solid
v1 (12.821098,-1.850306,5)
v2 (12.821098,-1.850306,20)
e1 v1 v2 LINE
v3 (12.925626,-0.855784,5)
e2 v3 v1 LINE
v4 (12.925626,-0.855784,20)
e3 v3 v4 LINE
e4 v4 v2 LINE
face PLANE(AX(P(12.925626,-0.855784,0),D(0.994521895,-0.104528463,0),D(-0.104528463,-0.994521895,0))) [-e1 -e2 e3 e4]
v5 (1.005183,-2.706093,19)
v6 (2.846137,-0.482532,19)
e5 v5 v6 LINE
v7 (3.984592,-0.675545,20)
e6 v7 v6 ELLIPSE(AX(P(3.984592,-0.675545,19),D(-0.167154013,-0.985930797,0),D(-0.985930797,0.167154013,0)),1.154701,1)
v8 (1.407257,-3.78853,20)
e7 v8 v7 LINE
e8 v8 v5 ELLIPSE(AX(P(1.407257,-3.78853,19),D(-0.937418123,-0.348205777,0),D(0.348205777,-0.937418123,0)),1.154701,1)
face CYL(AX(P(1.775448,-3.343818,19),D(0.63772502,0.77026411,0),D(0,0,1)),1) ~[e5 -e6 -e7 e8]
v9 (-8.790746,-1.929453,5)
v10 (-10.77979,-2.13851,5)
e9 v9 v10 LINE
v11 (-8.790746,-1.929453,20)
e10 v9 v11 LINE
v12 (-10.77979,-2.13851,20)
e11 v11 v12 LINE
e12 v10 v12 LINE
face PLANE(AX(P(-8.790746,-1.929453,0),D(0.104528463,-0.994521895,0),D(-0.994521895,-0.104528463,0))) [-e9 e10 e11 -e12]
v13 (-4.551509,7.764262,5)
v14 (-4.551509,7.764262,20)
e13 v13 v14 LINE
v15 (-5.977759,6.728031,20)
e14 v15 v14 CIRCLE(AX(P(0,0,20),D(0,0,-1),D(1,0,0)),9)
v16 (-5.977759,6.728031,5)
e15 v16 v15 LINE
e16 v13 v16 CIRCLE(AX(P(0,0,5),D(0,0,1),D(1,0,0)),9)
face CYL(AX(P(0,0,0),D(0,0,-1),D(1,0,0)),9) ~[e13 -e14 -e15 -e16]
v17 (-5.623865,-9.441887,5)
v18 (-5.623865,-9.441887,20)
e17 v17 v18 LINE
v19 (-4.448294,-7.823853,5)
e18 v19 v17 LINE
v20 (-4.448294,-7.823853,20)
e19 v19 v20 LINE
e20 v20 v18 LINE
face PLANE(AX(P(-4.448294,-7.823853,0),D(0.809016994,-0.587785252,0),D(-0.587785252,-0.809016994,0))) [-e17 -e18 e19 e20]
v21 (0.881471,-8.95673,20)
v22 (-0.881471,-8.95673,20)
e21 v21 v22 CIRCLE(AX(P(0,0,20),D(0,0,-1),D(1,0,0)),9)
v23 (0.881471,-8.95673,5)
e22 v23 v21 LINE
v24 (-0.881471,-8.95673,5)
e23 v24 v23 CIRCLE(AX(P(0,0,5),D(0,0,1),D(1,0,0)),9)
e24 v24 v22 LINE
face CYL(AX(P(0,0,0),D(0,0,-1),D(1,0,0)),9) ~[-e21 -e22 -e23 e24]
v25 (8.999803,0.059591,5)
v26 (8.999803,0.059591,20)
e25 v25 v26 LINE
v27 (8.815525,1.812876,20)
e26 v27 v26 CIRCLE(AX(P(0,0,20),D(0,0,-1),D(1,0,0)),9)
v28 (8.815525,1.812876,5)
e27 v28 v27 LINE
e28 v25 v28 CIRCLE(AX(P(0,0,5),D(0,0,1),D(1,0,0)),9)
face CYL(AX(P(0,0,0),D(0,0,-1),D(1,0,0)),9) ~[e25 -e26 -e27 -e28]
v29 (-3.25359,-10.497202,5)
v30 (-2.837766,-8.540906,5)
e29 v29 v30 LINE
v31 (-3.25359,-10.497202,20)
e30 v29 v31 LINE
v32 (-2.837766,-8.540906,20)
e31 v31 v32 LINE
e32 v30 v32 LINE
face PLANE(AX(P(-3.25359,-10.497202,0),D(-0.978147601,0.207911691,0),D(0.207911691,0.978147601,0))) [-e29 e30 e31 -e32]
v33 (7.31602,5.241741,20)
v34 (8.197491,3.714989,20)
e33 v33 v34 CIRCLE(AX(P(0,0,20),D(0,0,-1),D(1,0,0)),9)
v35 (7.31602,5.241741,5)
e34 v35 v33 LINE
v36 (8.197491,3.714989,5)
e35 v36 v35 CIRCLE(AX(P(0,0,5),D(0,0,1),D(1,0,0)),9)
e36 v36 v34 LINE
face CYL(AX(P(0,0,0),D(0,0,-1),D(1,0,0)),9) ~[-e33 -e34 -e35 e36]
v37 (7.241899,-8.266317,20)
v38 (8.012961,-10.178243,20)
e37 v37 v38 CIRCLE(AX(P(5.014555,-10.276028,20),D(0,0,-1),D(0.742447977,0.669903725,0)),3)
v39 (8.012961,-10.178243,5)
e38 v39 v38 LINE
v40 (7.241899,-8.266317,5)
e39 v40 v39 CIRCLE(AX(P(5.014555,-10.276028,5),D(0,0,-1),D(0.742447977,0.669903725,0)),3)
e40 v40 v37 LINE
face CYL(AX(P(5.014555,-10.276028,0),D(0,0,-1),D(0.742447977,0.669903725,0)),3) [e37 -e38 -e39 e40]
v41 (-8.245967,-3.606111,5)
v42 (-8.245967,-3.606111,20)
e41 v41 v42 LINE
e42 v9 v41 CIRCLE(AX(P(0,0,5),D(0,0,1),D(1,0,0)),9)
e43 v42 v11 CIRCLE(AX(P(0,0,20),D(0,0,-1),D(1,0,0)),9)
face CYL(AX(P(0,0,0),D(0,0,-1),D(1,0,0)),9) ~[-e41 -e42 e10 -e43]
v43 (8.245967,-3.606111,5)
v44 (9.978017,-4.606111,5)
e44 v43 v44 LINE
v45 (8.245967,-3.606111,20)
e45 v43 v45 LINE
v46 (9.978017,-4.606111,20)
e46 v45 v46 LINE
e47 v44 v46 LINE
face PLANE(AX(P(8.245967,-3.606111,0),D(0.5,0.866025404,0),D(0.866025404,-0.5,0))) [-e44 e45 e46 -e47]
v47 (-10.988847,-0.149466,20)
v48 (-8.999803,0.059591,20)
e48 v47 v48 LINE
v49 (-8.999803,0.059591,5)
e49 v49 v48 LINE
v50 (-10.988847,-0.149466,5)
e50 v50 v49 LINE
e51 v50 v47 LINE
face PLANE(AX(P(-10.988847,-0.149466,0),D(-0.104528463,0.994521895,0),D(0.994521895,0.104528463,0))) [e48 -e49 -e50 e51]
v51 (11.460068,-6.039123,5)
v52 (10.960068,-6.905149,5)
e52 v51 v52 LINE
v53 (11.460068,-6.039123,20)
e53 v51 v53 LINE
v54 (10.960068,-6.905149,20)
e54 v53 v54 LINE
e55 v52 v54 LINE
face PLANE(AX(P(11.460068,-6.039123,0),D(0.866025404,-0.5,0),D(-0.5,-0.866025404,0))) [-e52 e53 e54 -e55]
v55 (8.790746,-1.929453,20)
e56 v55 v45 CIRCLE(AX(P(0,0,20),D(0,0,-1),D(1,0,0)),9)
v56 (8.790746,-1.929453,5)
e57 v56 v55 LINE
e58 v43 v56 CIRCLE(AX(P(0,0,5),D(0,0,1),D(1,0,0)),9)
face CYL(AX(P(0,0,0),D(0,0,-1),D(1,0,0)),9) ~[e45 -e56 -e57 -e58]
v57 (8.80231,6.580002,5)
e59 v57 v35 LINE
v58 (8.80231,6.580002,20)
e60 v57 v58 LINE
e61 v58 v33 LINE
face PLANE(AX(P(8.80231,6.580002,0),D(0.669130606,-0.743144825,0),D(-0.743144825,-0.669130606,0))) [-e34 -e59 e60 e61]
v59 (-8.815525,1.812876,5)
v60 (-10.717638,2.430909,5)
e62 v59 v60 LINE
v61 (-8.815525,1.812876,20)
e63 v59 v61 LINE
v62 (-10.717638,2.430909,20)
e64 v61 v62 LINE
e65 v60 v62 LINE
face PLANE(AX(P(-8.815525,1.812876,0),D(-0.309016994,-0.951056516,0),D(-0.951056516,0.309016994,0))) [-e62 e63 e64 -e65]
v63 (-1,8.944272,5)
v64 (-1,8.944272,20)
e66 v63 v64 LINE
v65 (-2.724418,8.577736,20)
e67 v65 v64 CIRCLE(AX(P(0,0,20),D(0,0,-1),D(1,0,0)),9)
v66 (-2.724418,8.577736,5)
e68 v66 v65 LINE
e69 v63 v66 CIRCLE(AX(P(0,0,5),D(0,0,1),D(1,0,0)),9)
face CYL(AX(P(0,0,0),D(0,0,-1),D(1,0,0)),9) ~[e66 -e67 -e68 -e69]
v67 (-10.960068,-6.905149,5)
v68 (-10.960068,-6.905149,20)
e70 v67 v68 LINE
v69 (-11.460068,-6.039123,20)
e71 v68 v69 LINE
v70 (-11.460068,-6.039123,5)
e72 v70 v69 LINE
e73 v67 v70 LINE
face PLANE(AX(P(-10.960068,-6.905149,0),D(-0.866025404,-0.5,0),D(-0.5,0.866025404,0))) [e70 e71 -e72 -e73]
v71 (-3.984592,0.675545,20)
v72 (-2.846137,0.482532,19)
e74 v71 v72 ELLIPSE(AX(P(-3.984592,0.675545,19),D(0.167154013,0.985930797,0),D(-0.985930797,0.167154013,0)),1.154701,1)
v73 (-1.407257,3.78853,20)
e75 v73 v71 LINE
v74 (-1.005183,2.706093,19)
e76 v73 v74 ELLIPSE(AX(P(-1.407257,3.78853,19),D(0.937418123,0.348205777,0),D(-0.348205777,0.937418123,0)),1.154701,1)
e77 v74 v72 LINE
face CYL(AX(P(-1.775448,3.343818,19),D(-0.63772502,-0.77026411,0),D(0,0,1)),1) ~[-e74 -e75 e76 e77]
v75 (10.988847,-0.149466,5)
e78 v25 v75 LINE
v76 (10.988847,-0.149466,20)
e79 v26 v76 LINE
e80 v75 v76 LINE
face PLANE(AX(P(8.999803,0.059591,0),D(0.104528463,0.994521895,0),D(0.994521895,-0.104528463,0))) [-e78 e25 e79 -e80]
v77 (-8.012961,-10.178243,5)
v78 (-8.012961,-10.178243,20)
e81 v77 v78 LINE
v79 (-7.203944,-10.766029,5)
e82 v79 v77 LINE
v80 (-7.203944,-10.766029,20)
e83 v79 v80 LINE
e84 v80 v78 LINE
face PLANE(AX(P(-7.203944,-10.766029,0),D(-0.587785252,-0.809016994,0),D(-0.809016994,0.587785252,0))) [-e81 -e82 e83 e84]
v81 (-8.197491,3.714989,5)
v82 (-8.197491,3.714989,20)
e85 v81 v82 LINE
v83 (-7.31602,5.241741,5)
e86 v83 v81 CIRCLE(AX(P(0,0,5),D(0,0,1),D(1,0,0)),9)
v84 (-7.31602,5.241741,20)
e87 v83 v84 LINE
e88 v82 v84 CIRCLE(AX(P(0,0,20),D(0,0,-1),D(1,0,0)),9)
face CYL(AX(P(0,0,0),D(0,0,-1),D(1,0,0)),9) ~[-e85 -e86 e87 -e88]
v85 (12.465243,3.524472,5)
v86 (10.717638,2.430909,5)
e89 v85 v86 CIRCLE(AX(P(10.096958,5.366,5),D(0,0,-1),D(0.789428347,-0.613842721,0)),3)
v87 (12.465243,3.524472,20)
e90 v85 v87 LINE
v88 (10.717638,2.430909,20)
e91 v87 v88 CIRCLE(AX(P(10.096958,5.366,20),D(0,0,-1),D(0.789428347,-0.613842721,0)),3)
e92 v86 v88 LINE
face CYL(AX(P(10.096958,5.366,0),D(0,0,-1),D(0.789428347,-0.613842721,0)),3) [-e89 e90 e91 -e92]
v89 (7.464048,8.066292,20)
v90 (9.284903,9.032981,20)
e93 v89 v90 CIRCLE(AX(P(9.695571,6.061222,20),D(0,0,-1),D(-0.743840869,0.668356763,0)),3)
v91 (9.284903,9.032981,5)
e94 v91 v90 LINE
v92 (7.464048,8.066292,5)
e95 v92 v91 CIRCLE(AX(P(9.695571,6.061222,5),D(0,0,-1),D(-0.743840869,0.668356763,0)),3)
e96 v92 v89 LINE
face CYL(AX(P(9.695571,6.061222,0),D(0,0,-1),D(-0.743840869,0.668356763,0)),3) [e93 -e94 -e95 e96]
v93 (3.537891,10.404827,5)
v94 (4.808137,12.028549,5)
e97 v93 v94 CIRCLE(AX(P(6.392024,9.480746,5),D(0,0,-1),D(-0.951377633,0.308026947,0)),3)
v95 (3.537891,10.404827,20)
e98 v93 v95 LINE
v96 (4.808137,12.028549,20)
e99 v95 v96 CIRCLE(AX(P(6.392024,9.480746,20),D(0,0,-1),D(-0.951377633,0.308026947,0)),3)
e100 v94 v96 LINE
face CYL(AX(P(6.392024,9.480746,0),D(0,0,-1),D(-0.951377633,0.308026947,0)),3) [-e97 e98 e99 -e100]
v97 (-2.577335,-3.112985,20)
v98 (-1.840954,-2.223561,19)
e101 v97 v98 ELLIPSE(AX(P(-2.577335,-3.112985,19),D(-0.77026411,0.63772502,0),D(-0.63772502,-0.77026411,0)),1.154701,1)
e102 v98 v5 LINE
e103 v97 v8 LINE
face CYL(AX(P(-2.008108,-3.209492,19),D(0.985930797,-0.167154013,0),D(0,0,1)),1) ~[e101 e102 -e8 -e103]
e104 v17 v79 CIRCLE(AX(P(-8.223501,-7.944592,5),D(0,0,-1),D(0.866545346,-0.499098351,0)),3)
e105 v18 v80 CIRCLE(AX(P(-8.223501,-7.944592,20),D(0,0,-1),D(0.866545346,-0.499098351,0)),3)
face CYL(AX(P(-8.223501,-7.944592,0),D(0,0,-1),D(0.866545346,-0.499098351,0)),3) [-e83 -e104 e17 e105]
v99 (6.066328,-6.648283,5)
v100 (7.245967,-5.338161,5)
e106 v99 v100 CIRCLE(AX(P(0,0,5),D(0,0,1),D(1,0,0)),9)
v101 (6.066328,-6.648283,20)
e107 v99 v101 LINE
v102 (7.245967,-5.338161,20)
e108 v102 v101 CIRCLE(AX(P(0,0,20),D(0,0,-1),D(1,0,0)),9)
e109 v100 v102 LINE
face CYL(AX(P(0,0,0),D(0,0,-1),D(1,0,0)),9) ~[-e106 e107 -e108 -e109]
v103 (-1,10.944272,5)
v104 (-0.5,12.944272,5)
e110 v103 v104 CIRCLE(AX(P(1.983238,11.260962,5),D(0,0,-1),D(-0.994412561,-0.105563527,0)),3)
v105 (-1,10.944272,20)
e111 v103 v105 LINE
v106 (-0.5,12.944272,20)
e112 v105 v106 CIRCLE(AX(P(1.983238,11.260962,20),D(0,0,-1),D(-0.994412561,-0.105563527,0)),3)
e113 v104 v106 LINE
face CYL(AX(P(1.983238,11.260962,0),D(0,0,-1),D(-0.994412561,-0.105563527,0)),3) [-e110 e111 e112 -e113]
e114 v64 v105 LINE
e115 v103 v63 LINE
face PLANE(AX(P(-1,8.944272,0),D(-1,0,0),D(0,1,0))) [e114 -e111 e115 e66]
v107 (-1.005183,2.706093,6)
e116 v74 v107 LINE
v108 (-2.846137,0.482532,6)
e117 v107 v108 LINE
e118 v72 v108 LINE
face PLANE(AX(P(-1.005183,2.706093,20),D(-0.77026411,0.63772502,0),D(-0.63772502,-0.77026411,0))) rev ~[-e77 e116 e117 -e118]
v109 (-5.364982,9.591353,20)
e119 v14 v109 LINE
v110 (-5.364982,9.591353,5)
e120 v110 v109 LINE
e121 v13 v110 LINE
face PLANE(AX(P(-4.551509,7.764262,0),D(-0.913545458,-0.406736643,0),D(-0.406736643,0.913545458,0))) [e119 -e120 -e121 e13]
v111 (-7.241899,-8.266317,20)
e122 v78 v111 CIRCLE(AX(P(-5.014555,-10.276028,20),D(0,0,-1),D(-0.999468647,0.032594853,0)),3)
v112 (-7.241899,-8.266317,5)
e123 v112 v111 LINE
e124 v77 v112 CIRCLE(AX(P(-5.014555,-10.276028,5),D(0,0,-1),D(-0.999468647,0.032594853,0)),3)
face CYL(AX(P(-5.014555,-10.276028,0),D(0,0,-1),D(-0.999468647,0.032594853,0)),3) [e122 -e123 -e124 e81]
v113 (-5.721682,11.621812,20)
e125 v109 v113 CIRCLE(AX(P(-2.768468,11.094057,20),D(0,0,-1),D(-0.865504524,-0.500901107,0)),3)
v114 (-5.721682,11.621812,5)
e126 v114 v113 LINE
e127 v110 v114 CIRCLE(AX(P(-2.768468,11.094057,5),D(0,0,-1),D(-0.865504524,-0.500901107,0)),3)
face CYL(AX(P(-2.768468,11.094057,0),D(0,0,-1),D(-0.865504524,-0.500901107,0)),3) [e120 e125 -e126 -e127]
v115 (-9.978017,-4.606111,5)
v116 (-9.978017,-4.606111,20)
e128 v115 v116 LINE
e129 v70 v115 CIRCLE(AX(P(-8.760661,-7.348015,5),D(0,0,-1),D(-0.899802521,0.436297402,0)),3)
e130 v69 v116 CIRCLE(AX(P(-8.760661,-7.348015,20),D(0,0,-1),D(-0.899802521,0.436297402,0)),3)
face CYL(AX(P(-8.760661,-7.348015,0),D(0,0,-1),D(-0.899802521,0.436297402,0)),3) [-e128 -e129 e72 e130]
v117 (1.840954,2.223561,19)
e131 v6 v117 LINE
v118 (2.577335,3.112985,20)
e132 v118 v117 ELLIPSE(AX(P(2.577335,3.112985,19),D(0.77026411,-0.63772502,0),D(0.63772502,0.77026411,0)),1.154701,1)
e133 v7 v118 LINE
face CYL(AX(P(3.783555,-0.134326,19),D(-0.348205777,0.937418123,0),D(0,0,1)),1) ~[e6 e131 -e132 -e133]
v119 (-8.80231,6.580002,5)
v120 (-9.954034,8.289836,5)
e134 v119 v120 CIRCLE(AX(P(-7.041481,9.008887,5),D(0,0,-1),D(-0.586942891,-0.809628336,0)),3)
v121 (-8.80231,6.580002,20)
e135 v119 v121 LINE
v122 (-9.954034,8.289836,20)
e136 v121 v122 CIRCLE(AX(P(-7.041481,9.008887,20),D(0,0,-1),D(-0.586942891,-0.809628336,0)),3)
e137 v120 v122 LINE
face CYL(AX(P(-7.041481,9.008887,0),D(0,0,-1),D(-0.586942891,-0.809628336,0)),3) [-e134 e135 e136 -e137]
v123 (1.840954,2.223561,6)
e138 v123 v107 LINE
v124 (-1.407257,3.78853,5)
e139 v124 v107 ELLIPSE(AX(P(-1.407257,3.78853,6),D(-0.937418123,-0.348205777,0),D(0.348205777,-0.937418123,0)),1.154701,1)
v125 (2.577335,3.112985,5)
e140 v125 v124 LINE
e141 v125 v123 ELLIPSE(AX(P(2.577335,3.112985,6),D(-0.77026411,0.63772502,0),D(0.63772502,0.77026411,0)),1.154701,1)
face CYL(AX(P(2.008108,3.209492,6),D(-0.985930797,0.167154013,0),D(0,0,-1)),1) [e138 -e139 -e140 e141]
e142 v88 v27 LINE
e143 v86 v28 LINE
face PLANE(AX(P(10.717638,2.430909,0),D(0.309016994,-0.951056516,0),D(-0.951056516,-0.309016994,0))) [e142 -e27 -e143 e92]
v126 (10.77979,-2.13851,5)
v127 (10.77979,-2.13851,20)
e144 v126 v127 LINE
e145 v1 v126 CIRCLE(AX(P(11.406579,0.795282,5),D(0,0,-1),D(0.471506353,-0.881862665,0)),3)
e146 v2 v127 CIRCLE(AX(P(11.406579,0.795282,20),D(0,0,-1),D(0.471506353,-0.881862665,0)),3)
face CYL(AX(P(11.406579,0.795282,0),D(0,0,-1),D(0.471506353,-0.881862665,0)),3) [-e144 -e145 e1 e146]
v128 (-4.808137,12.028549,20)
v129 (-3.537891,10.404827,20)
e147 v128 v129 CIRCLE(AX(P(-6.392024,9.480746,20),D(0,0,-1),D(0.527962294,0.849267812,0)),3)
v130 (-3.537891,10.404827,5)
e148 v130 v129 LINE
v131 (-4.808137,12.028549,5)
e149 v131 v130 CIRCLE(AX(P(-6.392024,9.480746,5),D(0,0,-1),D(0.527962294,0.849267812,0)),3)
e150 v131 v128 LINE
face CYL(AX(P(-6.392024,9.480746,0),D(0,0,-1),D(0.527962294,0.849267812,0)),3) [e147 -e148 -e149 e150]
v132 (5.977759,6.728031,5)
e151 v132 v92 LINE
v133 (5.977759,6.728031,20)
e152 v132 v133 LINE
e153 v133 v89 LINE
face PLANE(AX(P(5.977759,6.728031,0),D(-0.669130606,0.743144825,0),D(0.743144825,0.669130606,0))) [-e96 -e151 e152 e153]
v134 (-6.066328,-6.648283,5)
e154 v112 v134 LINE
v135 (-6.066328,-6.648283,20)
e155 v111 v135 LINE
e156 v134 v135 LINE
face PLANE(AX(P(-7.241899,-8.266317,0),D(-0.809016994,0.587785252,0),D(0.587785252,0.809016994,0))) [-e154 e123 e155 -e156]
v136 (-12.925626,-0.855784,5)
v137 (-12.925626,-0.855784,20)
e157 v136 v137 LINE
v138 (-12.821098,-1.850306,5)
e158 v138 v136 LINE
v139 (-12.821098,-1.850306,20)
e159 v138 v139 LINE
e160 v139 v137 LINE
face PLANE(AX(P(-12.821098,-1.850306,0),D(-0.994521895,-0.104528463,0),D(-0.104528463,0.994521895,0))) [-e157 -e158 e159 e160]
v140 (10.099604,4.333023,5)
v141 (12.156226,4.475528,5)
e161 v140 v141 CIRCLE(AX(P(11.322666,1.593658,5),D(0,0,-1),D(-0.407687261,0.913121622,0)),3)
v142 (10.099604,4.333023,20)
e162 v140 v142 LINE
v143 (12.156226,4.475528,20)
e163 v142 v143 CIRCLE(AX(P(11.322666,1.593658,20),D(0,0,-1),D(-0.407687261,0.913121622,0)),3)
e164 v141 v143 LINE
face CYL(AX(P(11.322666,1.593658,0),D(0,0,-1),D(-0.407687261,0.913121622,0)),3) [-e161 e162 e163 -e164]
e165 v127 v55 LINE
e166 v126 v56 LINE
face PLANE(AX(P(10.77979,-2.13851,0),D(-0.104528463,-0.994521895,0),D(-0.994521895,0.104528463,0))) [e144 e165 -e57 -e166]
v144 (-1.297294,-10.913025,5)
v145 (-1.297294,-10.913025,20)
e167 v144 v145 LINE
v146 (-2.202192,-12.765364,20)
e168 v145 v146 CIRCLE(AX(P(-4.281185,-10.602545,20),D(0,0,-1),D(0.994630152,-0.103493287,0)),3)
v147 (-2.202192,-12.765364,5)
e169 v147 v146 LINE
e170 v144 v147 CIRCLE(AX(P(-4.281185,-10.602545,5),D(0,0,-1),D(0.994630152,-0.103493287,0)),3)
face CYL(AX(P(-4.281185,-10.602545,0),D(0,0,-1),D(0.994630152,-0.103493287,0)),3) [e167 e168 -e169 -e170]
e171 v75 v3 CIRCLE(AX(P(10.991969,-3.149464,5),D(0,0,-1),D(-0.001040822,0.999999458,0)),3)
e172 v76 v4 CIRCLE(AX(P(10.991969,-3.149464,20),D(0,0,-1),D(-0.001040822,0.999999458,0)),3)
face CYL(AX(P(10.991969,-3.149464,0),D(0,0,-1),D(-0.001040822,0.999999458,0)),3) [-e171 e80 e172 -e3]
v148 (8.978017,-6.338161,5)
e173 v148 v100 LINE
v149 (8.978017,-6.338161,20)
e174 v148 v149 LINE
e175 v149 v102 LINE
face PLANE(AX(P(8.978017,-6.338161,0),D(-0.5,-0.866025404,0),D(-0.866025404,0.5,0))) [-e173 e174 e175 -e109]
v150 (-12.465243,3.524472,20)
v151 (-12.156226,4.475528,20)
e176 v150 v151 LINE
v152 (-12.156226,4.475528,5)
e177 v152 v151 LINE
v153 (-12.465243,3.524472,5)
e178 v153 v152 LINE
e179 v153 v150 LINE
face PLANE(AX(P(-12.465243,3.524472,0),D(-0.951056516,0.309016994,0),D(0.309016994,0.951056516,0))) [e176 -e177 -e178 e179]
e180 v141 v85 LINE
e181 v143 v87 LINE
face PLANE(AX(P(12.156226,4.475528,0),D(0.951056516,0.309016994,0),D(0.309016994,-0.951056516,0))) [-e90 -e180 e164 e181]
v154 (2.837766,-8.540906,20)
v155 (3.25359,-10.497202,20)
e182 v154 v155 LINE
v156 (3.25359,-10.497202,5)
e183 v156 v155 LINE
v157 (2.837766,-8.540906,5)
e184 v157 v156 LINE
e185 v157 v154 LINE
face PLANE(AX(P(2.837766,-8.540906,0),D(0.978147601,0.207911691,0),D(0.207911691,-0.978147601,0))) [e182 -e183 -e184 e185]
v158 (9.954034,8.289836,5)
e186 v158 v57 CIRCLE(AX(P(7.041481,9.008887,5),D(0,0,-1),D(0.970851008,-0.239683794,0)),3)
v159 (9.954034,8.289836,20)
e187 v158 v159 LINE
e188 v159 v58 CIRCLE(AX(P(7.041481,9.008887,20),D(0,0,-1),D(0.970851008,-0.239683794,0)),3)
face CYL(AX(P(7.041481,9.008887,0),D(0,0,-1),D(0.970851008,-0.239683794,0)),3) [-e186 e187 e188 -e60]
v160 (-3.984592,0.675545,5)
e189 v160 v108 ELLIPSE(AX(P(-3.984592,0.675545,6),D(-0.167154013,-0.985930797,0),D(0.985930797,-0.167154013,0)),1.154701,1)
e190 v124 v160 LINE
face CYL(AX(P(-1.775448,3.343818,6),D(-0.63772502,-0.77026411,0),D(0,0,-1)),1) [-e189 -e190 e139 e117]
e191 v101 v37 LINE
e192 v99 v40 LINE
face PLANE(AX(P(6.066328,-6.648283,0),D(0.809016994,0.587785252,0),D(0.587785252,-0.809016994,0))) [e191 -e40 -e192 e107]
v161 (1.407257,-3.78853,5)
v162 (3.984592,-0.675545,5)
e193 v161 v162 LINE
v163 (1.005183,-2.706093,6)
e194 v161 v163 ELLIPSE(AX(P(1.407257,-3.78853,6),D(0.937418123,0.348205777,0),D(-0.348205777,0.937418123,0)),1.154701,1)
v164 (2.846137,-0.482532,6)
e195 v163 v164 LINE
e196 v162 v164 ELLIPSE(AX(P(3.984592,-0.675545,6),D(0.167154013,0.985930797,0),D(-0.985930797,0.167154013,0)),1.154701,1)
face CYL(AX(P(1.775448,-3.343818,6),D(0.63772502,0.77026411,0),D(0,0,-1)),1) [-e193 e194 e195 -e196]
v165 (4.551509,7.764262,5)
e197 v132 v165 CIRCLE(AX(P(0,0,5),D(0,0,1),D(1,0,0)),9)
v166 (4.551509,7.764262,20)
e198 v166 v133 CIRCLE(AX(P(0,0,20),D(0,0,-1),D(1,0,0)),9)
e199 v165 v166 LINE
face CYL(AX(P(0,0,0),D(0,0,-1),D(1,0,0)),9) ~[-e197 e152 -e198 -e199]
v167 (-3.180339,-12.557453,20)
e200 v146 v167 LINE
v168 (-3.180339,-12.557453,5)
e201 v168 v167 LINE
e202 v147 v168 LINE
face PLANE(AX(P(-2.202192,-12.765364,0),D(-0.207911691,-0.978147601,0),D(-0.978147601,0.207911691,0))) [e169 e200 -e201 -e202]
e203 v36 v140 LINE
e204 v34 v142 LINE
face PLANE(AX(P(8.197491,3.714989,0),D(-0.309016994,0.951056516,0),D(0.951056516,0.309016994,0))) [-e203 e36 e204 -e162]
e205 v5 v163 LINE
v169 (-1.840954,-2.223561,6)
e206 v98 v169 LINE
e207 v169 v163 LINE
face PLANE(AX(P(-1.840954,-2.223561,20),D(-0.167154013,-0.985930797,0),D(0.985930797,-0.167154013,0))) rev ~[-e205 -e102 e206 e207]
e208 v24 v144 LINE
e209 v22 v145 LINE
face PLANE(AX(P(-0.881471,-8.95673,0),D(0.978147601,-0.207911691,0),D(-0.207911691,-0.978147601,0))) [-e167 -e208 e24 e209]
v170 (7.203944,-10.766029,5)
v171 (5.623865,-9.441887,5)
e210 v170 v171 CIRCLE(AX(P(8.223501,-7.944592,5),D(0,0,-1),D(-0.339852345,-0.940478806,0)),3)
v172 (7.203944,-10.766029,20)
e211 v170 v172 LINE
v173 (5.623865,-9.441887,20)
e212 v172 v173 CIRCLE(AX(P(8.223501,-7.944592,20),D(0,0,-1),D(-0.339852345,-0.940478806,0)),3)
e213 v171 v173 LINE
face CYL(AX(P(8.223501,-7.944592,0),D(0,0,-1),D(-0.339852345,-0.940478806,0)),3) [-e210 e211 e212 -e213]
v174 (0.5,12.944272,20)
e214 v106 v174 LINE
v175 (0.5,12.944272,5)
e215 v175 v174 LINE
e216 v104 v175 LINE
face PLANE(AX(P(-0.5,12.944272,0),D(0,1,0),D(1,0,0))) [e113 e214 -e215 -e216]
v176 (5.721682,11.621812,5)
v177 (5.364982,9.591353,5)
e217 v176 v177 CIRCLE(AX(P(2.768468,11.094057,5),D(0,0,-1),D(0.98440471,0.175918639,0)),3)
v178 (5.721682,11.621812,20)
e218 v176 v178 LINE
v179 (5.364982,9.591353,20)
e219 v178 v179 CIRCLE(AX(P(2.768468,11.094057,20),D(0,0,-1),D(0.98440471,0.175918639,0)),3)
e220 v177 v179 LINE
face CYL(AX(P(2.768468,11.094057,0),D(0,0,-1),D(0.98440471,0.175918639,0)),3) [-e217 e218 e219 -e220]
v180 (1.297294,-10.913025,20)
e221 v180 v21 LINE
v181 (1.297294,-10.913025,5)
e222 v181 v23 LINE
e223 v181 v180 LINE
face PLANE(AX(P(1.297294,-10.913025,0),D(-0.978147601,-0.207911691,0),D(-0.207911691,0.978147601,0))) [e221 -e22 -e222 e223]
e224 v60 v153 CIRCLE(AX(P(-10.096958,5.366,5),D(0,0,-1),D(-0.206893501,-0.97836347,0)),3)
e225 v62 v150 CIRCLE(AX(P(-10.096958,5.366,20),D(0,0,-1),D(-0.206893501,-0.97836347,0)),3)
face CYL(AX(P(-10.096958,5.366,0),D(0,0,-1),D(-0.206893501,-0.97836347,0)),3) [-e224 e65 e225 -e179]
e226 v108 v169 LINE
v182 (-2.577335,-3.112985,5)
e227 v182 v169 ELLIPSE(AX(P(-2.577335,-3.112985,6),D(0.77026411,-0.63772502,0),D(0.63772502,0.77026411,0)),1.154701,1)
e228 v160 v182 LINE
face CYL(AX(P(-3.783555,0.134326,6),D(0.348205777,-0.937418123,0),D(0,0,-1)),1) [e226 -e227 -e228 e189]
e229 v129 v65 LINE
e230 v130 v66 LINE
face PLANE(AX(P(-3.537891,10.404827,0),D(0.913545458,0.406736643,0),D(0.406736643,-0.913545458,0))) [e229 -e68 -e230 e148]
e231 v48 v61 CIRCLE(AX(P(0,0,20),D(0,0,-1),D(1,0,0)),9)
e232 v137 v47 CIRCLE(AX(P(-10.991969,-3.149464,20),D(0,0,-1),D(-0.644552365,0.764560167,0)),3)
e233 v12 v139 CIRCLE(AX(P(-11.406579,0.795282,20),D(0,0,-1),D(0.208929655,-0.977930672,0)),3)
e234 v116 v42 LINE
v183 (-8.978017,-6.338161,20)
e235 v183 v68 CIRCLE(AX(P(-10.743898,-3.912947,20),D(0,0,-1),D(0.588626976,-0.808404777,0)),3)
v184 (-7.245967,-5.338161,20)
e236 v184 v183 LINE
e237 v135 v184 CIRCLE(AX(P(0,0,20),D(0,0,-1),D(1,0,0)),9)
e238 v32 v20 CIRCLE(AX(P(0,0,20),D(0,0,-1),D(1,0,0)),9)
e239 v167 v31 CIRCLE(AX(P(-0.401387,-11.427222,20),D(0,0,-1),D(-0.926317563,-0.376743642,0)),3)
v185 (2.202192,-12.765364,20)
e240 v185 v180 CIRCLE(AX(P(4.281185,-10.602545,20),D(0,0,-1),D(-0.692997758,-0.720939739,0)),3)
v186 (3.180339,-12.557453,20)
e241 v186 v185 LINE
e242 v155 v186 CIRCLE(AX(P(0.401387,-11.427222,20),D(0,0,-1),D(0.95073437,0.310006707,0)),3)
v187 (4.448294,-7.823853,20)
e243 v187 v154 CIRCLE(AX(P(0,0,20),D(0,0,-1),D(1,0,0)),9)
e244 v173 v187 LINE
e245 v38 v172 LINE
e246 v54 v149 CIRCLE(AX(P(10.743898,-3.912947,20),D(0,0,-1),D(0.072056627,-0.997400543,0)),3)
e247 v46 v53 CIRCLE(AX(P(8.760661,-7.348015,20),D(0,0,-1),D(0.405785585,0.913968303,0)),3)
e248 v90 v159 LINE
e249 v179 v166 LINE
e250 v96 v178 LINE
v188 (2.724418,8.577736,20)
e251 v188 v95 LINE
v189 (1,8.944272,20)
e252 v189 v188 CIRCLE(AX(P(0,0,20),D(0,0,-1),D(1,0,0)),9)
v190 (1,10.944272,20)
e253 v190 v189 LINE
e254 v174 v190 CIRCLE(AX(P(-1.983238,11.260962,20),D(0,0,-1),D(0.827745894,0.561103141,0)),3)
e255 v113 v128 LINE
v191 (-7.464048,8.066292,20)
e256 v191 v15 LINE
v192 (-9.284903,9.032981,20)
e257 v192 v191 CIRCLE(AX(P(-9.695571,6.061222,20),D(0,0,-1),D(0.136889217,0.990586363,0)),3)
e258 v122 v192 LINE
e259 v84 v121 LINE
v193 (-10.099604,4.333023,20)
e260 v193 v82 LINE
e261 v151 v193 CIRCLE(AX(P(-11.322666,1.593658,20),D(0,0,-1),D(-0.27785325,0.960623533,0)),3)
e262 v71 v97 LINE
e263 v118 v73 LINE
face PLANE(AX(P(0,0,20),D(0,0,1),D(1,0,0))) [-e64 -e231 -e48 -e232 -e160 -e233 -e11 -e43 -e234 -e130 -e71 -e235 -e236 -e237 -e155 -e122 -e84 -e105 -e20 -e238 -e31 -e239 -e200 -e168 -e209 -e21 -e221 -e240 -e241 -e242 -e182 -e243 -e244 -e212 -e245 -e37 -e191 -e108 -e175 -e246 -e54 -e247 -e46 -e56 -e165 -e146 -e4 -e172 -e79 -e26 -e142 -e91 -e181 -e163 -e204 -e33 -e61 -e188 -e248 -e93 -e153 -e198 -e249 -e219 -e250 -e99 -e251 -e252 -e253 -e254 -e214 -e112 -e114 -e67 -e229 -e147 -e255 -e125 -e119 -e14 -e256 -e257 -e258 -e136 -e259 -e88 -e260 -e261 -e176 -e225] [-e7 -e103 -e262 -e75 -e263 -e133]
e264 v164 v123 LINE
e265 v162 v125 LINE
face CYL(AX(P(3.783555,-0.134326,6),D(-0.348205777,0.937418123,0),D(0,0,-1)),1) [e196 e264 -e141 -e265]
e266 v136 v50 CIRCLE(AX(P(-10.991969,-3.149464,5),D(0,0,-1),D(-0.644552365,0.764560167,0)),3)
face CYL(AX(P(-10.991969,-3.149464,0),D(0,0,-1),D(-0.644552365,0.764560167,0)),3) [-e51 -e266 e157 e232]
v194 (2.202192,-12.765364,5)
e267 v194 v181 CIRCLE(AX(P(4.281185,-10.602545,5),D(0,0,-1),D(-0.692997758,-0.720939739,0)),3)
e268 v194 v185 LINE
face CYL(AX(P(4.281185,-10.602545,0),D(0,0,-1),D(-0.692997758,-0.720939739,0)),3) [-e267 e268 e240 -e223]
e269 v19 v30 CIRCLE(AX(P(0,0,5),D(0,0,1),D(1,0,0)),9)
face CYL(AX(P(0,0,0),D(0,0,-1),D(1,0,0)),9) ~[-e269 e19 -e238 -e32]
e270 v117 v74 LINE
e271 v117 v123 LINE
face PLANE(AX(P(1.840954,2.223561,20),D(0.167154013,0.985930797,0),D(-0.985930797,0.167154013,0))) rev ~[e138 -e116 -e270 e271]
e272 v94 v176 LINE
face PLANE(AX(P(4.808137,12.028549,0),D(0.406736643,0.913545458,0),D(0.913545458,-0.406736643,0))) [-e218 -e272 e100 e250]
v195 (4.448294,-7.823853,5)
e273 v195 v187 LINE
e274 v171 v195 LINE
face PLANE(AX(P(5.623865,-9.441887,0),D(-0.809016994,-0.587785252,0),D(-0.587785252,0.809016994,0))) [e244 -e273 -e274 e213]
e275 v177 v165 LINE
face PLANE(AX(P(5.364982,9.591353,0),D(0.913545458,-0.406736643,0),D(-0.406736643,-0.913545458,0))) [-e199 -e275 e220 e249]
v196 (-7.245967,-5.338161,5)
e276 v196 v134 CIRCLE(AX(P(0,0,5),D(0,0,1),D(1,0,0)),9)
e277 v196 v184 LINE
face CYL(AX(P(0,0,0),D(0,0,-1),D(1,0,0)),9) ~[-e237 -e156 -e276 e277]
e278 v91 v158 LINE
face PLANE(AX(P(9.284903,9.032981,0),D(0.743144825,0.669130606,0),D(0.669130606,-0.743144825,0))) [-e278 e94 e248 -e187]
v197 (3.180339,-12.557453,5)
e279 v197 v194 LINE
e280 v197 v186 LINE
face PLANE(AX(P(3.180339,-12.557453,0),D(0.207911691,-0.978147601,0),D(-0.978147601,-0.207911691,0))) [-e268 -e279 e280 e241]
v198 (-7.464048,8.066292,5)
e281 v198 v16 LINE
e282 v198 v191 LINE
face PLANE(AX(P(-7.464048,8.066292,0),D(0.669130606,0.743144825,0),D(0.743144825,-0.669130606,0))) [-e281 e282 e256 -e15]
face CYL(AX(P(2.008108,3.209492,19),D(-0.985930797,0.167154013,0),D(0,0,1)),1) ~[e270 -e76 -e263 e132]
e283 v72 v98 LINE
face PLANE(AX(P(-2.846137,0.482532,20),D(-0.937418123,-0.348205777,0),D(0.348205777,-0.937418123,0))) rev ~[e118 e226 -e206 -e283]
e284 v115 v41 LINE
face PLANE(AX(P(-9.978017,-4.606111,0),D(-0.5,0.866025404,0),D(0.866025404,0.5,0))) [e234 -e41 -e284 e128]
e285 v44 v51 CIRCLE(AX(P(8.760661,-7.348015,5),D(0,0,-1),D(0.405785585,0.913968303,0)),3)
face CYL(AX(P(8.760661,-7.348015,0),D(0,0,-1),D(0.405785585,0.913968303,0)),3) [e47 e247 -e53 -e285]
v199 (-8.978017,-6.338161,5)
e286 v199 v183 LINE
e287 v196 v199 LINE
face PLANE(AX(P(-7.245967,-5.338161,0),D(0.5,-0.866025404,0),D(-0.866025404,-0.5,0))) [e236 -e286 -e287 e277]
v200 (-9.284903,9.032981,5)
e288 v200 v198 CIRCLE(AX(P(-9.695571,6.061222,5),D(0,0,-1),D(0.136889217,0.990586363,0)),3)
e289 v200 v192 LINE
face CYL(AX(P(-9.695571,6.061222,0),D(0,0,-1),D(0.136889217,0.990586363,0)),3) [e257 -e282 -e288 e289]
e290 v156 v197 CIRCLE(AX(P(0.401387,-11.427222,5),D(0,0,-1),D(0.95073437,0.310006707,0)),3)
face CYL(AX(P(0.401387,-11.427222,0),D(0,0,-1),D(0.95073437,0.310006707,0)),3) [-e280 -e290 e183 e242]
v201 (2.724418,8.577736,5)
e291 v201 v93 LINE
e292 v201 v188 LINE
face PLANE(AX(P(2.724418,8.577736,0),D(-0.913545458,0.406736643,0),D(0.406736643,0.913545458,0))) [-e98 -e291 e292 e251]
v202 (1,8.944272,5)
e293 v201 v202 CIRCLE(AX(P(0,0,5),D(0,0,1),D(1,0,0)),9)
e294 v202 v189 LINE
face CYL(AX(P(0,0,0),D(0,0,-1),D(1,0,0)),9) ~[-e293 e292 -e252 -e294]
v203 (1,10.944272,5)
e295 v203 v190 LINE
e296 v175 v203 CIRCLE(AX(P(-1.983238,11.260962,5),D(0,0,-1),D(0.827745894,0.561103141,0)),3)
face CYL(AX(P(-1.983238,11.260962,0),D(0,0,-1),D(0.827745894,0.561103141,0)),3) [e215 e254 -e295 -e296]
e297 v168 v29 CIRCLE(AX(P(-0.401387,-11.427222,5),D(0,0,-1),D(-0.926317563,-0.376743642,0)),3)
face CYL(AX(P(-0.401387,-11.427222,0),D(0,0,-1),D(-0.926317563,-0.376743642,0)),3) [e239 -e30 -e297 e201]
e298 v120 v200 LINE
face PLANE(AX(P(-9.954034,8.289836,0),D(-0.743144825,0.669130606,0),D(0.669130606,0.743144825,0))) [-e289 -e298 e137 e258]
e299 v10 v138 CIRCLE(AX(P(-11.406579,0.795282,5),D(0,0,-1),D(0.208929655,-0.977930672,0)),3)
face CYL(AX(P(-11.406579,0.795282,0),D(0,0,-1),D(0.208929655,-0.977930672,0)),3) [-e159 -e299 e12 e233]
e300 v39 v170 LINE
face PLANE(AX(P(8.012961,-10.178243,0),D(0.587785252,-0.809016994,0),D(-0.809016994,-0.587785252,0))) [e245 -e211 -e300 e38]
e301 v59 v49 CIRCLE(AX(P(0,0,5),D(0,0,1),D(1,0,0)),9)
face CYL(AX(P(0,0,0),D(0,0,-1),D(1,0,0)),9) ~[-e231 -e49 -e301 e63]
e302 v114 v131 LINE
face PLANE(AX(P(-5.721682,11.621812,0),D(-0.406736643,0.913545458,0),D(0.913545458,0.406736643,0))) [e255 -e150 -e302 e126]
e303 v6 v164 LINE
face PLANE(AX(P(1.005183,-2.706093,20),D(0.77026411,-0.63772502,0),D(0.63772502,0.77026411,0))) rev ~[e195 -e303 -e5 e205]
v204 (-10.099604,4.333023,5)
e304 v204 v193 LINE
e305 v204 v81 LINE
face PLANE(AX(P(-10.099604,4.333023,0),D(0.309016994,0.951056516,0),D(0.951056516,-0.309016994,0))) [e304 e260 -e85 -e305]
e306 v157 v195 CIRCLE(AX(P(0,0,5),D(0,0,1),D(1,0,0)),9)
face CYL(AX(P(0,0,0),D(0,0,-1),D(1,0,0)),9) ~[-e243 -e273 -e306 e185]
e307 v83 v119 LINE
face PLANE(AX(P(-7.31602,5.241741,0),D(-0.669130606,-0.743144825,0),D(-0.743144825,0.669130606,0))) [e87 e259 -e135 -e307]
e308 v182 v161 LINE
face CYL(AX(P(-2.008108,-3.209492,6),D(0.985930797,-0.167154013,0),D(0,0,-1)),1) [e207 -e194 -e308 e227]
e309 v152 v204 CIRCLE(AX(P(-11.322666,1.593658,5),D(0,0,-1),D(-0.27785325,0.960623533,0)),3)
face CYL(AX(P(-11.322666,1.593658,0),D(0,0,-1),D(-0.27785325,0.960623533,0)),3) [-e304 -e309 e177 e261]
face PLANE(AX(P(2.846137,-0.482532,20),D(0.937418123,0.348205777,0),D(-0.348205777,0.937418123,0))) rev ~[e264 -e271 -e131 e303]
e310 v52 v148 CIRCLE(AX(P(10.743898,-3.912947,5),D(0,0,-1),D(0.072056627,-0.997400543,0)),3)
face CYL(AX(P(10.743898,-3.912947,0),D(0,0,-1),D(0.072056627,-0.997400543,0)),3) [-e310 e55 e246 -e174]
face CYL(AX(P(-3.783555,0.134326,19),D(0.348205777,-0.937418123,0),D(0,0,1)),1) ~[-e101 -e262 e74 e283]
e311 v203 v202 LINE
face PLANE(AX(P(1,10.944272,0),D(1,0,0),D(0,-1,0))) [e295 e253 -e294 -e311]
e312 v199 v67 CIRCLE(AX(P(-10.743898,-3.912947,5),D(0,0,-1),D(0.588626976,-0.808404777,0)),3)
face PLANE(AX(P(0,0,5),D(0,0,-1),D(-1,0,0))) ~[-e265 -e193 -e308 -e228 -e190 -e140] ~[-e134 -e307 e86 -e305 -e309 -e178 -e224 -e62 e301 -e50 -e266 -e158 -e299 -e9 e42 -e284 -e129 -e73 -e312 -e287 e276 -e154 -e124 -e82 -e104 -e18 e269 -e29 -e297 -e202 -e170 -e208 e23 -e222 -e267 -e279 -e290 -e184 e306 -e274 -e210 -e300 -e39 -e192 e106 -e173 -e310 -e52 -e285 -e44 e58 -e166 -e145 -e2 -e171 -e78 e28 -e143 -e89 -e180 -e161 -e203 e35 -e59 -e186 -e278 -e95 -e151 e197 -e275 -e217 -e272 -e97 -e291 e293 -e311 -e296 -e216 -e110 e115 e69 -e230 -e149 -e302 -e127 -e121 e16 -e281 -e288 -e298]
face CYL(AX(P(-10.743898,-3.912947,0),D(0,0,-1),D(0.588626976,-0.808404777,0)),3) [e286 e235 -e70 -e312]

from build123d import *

# Parameters (mm, degrees)
SKETCH1_R                    = 9
SKETCH1_R_2                  = 1
BOSS_EXTRUDE1_DEPTH          = 36
SKETCH5_W                    = 5
SKETCH5_H                    = 4.08502449
SKETCH5_W_2                  = 8
BOSS_EXTRUDE2_DEPTH          = 22
SKETCH7_W                    = 5
SKETCH7_H                    = 4.653899232
CUT_REVOLVE2_ANGLE           = 90
CUT_REVOLVE2_OTHER_WAY_ANGLE = 90
CIRPATTERN1_COUNT            = 15
SKETCH13_W                   = 5
SKETCH13_H                   = 16.616445935
SKETCH17_R                   = 2
CUT_EXTRUDE1_DEPTH           = 10
CUT_EXTRUDE2_DEPTH           = 23
CUT_EXTRUDE2_DEPTH_BACK      = 8
SKETCH20_R                   = 20.157813079
CUT_EXTRUDE3_DEPTH           = 36
FILLET1_R                    = 1


with BuildPart() as part:
    # Sketch1 → Boss-Extrude1 (new body)
    with BuildSketch(Plane.XY):
        Circle(SKETCH1_R)
        Circle(SKETCH1_R_2, mode=Mode.SUBTRACT)
    extrude(amount=BOSS_EXTRUDE1_DEPTH)

    # Sketch5 → Cut-Revolve1 (revolve, cut)
    with BuildSketch(Plane(origin=(0, 0, 0), x_dir=(0, 0, -1), z_dir=(1, 0, 0)), mode=Mode.PRIVATE) as cut_revolve1_sk:
        with Locations((-2.5, 6.957487755)):
            Rectangle(SKETCH5_W, SKETCH5_H)
        with Locations((-32, 6.957487755)):
            Rectangle(SKETCH5_W_2, SKETCH5_H)
    revolve(cut_revolve1_sk.sketch.rotate(Axis((0, 0, 0), (0, 0, 1)), 90), axis=Axis((0, 0, 0), (0, 0, 1)), mode=Mode.SUBTRACT)

    # Sketch6 → Boss-Extrude2 (add)
    with BuildSketch(Plane.XY):
        with BuildLine():
            Line((-1, 8.94427191), (-1, 10.94427191))
            ThreePointArc((-1, 10.94427191), (-0.927189817, 11.988569364), (-0.5, 12.94427191))
            Line((-0.5, 12.94427191), (0.5, 12.94427191))
            ThreePointArc((0.5, 12.94427191), (0.927189817, 11.988569364), (1, 10.94427191))
            Line((1, 10.94427191), (1, 8.94427191))
            Line((1, 8.94427191), (-1, 8.94427191))
        make_face()
    boss_extrude2 = extrude(amount=BOSS_EXTRUDE2_DEPTH)

    # Sketch7 → Cut-Revolve2 (revolve, cut)
    with BuildSketch(Plane(origin=(0, 0, 0), x_dir=(0, 0, -1), z_dir=(1, 0, 0))):
        with Locations((-2.5, 11.271221526)):
            Rectangle(SKETCH7_W, SKETCH7_H)
    revolve(axis=Axis((0, 8.94427191, 5), (0, 0, -1)), revolution_arc=CUT_REVOLVE2_ANGLE, mode=Mode.SUBTRACT)

    # Sketch7 → Cut-Revolve2 other way (revolve, cut)
    with BuildSketch(Plane(origin=(0, 0, 0), x_dir=(0, 0, -1), z_dir=(1, 0, 0))):
        with Locations((-2.5, 11.271221526)):
            Rectangle(SKETCH7_W, SKETCH7_H)
    revolve(axis=Axis((0, 8.94427191, 5), (0, 0, 1)), revolution_arc=CUT_REVOLVE2_OTHER_WAY_ANGLE, mode=Mode.SUBTRACT)

    # CirPattern1: Boss-Extrude2 ×15 about axis
    cirpattern1_axis = Axis((0, 0, 0), (0, 0, 1))
    for i in range(1, CIRPATTERN1_COUNT):
        add(boss_extrude2.rotate(cirpattern1_axis, i * 360 / CIRPATTERN1_COUNT))

    # Sketch13 → Cut-Revolve6 (revolve, cut)
    with BuildSketch(Plane(origin=(0, 0, 0), x_dir=(0, 0, -1), z_dir=(1, 0, 0)), mode=Mode.PRIVATE) as cut_revolve6_sk:
        with Locations((-2.5, 8.308222968)):
            Rectangle(SKETCH13_W, SKETCH13_H)
    revolve(cut_revolve6_sk.sketch.rotate(Axis((0, 0, 25.578402878), (0, 0, -1)), 270), axis=Axis((0, 0, 25.578402878), (0, 0, -1)), mode=Mode.SUBTRACT)

    # Sketch17 → Cut-Extrude1 (cut)
    with BuildSketch(Plane(origin=(0, 0, 0), x_dir=(1, 0, 0), z_dir=(0, 1, 0))):
        with Locations(Location((-0.128741976, -25.11123185, 0), (0, 0, 270))):
            Circle(SKETCH17_R)
    extrude(amount=-CUT_EXTRUDE1_DEPTH, mode=Mode.SUBTRACT)

    # Sketch20 → Cut-Extrude2 (cut, two sides: drawn at the far end of the back side and taken through both)
    with BuildSketch(Plane.XY.offset(28).offset(-CUT_EXTRUDE2_DEPTH_BACK)):
        Circle(SKETCH20_R)
    extrude(amount=CUT_EXTRUDE2_DEPTH + CUT_EXTRUDE2_DEPTH_BACK, mode=Mode.SUBTRACT)

    # Sketch21 → Cut-Extrude3 (cut)
    with BuildSketch(Plane.XY.offset(20)):
        Polygon((1.840953559, 2.223560956), (-1.005183496, 2.706093028), (-2.846137055, 0.482532071), (-1.840953559, -2.223560956), (1.005183496, -2.706093028), (2.846137055, -0.482532071), align=None)
    extrude(amount=-CUT_EXTRUDE3_DEPTH, mode=Mode.SUBTRACT)

    # Fillet1
    fillet1_edges = [part.edges().sort_by_distance(p)[0] for p in [
        (2.343545307, 0.870514443, 5),
        (1.925660275, -1.594312549, 5),
        (-0.417885032, -2.464826992, 5),
        (-2.343545307, -0.870514443, 5),
        (-1.925660275, 1.594312549, 5),
        (0.417885032, 2.464826992, 5),
        (2.343545307, 0.870514443, 20),
        (0.417885032, 2.464826992, 20),
        (-1.925660275, 1.594312549, 20),
        (-2.343545307, -0.870514443, 20),
        (-0.417885032, -2.464826992, 20),
        (1.925660275, -1.594312549, 20),
    ]]
    fillet(fillet1_edges, radius=FILLET1_R)


solid = part.part
